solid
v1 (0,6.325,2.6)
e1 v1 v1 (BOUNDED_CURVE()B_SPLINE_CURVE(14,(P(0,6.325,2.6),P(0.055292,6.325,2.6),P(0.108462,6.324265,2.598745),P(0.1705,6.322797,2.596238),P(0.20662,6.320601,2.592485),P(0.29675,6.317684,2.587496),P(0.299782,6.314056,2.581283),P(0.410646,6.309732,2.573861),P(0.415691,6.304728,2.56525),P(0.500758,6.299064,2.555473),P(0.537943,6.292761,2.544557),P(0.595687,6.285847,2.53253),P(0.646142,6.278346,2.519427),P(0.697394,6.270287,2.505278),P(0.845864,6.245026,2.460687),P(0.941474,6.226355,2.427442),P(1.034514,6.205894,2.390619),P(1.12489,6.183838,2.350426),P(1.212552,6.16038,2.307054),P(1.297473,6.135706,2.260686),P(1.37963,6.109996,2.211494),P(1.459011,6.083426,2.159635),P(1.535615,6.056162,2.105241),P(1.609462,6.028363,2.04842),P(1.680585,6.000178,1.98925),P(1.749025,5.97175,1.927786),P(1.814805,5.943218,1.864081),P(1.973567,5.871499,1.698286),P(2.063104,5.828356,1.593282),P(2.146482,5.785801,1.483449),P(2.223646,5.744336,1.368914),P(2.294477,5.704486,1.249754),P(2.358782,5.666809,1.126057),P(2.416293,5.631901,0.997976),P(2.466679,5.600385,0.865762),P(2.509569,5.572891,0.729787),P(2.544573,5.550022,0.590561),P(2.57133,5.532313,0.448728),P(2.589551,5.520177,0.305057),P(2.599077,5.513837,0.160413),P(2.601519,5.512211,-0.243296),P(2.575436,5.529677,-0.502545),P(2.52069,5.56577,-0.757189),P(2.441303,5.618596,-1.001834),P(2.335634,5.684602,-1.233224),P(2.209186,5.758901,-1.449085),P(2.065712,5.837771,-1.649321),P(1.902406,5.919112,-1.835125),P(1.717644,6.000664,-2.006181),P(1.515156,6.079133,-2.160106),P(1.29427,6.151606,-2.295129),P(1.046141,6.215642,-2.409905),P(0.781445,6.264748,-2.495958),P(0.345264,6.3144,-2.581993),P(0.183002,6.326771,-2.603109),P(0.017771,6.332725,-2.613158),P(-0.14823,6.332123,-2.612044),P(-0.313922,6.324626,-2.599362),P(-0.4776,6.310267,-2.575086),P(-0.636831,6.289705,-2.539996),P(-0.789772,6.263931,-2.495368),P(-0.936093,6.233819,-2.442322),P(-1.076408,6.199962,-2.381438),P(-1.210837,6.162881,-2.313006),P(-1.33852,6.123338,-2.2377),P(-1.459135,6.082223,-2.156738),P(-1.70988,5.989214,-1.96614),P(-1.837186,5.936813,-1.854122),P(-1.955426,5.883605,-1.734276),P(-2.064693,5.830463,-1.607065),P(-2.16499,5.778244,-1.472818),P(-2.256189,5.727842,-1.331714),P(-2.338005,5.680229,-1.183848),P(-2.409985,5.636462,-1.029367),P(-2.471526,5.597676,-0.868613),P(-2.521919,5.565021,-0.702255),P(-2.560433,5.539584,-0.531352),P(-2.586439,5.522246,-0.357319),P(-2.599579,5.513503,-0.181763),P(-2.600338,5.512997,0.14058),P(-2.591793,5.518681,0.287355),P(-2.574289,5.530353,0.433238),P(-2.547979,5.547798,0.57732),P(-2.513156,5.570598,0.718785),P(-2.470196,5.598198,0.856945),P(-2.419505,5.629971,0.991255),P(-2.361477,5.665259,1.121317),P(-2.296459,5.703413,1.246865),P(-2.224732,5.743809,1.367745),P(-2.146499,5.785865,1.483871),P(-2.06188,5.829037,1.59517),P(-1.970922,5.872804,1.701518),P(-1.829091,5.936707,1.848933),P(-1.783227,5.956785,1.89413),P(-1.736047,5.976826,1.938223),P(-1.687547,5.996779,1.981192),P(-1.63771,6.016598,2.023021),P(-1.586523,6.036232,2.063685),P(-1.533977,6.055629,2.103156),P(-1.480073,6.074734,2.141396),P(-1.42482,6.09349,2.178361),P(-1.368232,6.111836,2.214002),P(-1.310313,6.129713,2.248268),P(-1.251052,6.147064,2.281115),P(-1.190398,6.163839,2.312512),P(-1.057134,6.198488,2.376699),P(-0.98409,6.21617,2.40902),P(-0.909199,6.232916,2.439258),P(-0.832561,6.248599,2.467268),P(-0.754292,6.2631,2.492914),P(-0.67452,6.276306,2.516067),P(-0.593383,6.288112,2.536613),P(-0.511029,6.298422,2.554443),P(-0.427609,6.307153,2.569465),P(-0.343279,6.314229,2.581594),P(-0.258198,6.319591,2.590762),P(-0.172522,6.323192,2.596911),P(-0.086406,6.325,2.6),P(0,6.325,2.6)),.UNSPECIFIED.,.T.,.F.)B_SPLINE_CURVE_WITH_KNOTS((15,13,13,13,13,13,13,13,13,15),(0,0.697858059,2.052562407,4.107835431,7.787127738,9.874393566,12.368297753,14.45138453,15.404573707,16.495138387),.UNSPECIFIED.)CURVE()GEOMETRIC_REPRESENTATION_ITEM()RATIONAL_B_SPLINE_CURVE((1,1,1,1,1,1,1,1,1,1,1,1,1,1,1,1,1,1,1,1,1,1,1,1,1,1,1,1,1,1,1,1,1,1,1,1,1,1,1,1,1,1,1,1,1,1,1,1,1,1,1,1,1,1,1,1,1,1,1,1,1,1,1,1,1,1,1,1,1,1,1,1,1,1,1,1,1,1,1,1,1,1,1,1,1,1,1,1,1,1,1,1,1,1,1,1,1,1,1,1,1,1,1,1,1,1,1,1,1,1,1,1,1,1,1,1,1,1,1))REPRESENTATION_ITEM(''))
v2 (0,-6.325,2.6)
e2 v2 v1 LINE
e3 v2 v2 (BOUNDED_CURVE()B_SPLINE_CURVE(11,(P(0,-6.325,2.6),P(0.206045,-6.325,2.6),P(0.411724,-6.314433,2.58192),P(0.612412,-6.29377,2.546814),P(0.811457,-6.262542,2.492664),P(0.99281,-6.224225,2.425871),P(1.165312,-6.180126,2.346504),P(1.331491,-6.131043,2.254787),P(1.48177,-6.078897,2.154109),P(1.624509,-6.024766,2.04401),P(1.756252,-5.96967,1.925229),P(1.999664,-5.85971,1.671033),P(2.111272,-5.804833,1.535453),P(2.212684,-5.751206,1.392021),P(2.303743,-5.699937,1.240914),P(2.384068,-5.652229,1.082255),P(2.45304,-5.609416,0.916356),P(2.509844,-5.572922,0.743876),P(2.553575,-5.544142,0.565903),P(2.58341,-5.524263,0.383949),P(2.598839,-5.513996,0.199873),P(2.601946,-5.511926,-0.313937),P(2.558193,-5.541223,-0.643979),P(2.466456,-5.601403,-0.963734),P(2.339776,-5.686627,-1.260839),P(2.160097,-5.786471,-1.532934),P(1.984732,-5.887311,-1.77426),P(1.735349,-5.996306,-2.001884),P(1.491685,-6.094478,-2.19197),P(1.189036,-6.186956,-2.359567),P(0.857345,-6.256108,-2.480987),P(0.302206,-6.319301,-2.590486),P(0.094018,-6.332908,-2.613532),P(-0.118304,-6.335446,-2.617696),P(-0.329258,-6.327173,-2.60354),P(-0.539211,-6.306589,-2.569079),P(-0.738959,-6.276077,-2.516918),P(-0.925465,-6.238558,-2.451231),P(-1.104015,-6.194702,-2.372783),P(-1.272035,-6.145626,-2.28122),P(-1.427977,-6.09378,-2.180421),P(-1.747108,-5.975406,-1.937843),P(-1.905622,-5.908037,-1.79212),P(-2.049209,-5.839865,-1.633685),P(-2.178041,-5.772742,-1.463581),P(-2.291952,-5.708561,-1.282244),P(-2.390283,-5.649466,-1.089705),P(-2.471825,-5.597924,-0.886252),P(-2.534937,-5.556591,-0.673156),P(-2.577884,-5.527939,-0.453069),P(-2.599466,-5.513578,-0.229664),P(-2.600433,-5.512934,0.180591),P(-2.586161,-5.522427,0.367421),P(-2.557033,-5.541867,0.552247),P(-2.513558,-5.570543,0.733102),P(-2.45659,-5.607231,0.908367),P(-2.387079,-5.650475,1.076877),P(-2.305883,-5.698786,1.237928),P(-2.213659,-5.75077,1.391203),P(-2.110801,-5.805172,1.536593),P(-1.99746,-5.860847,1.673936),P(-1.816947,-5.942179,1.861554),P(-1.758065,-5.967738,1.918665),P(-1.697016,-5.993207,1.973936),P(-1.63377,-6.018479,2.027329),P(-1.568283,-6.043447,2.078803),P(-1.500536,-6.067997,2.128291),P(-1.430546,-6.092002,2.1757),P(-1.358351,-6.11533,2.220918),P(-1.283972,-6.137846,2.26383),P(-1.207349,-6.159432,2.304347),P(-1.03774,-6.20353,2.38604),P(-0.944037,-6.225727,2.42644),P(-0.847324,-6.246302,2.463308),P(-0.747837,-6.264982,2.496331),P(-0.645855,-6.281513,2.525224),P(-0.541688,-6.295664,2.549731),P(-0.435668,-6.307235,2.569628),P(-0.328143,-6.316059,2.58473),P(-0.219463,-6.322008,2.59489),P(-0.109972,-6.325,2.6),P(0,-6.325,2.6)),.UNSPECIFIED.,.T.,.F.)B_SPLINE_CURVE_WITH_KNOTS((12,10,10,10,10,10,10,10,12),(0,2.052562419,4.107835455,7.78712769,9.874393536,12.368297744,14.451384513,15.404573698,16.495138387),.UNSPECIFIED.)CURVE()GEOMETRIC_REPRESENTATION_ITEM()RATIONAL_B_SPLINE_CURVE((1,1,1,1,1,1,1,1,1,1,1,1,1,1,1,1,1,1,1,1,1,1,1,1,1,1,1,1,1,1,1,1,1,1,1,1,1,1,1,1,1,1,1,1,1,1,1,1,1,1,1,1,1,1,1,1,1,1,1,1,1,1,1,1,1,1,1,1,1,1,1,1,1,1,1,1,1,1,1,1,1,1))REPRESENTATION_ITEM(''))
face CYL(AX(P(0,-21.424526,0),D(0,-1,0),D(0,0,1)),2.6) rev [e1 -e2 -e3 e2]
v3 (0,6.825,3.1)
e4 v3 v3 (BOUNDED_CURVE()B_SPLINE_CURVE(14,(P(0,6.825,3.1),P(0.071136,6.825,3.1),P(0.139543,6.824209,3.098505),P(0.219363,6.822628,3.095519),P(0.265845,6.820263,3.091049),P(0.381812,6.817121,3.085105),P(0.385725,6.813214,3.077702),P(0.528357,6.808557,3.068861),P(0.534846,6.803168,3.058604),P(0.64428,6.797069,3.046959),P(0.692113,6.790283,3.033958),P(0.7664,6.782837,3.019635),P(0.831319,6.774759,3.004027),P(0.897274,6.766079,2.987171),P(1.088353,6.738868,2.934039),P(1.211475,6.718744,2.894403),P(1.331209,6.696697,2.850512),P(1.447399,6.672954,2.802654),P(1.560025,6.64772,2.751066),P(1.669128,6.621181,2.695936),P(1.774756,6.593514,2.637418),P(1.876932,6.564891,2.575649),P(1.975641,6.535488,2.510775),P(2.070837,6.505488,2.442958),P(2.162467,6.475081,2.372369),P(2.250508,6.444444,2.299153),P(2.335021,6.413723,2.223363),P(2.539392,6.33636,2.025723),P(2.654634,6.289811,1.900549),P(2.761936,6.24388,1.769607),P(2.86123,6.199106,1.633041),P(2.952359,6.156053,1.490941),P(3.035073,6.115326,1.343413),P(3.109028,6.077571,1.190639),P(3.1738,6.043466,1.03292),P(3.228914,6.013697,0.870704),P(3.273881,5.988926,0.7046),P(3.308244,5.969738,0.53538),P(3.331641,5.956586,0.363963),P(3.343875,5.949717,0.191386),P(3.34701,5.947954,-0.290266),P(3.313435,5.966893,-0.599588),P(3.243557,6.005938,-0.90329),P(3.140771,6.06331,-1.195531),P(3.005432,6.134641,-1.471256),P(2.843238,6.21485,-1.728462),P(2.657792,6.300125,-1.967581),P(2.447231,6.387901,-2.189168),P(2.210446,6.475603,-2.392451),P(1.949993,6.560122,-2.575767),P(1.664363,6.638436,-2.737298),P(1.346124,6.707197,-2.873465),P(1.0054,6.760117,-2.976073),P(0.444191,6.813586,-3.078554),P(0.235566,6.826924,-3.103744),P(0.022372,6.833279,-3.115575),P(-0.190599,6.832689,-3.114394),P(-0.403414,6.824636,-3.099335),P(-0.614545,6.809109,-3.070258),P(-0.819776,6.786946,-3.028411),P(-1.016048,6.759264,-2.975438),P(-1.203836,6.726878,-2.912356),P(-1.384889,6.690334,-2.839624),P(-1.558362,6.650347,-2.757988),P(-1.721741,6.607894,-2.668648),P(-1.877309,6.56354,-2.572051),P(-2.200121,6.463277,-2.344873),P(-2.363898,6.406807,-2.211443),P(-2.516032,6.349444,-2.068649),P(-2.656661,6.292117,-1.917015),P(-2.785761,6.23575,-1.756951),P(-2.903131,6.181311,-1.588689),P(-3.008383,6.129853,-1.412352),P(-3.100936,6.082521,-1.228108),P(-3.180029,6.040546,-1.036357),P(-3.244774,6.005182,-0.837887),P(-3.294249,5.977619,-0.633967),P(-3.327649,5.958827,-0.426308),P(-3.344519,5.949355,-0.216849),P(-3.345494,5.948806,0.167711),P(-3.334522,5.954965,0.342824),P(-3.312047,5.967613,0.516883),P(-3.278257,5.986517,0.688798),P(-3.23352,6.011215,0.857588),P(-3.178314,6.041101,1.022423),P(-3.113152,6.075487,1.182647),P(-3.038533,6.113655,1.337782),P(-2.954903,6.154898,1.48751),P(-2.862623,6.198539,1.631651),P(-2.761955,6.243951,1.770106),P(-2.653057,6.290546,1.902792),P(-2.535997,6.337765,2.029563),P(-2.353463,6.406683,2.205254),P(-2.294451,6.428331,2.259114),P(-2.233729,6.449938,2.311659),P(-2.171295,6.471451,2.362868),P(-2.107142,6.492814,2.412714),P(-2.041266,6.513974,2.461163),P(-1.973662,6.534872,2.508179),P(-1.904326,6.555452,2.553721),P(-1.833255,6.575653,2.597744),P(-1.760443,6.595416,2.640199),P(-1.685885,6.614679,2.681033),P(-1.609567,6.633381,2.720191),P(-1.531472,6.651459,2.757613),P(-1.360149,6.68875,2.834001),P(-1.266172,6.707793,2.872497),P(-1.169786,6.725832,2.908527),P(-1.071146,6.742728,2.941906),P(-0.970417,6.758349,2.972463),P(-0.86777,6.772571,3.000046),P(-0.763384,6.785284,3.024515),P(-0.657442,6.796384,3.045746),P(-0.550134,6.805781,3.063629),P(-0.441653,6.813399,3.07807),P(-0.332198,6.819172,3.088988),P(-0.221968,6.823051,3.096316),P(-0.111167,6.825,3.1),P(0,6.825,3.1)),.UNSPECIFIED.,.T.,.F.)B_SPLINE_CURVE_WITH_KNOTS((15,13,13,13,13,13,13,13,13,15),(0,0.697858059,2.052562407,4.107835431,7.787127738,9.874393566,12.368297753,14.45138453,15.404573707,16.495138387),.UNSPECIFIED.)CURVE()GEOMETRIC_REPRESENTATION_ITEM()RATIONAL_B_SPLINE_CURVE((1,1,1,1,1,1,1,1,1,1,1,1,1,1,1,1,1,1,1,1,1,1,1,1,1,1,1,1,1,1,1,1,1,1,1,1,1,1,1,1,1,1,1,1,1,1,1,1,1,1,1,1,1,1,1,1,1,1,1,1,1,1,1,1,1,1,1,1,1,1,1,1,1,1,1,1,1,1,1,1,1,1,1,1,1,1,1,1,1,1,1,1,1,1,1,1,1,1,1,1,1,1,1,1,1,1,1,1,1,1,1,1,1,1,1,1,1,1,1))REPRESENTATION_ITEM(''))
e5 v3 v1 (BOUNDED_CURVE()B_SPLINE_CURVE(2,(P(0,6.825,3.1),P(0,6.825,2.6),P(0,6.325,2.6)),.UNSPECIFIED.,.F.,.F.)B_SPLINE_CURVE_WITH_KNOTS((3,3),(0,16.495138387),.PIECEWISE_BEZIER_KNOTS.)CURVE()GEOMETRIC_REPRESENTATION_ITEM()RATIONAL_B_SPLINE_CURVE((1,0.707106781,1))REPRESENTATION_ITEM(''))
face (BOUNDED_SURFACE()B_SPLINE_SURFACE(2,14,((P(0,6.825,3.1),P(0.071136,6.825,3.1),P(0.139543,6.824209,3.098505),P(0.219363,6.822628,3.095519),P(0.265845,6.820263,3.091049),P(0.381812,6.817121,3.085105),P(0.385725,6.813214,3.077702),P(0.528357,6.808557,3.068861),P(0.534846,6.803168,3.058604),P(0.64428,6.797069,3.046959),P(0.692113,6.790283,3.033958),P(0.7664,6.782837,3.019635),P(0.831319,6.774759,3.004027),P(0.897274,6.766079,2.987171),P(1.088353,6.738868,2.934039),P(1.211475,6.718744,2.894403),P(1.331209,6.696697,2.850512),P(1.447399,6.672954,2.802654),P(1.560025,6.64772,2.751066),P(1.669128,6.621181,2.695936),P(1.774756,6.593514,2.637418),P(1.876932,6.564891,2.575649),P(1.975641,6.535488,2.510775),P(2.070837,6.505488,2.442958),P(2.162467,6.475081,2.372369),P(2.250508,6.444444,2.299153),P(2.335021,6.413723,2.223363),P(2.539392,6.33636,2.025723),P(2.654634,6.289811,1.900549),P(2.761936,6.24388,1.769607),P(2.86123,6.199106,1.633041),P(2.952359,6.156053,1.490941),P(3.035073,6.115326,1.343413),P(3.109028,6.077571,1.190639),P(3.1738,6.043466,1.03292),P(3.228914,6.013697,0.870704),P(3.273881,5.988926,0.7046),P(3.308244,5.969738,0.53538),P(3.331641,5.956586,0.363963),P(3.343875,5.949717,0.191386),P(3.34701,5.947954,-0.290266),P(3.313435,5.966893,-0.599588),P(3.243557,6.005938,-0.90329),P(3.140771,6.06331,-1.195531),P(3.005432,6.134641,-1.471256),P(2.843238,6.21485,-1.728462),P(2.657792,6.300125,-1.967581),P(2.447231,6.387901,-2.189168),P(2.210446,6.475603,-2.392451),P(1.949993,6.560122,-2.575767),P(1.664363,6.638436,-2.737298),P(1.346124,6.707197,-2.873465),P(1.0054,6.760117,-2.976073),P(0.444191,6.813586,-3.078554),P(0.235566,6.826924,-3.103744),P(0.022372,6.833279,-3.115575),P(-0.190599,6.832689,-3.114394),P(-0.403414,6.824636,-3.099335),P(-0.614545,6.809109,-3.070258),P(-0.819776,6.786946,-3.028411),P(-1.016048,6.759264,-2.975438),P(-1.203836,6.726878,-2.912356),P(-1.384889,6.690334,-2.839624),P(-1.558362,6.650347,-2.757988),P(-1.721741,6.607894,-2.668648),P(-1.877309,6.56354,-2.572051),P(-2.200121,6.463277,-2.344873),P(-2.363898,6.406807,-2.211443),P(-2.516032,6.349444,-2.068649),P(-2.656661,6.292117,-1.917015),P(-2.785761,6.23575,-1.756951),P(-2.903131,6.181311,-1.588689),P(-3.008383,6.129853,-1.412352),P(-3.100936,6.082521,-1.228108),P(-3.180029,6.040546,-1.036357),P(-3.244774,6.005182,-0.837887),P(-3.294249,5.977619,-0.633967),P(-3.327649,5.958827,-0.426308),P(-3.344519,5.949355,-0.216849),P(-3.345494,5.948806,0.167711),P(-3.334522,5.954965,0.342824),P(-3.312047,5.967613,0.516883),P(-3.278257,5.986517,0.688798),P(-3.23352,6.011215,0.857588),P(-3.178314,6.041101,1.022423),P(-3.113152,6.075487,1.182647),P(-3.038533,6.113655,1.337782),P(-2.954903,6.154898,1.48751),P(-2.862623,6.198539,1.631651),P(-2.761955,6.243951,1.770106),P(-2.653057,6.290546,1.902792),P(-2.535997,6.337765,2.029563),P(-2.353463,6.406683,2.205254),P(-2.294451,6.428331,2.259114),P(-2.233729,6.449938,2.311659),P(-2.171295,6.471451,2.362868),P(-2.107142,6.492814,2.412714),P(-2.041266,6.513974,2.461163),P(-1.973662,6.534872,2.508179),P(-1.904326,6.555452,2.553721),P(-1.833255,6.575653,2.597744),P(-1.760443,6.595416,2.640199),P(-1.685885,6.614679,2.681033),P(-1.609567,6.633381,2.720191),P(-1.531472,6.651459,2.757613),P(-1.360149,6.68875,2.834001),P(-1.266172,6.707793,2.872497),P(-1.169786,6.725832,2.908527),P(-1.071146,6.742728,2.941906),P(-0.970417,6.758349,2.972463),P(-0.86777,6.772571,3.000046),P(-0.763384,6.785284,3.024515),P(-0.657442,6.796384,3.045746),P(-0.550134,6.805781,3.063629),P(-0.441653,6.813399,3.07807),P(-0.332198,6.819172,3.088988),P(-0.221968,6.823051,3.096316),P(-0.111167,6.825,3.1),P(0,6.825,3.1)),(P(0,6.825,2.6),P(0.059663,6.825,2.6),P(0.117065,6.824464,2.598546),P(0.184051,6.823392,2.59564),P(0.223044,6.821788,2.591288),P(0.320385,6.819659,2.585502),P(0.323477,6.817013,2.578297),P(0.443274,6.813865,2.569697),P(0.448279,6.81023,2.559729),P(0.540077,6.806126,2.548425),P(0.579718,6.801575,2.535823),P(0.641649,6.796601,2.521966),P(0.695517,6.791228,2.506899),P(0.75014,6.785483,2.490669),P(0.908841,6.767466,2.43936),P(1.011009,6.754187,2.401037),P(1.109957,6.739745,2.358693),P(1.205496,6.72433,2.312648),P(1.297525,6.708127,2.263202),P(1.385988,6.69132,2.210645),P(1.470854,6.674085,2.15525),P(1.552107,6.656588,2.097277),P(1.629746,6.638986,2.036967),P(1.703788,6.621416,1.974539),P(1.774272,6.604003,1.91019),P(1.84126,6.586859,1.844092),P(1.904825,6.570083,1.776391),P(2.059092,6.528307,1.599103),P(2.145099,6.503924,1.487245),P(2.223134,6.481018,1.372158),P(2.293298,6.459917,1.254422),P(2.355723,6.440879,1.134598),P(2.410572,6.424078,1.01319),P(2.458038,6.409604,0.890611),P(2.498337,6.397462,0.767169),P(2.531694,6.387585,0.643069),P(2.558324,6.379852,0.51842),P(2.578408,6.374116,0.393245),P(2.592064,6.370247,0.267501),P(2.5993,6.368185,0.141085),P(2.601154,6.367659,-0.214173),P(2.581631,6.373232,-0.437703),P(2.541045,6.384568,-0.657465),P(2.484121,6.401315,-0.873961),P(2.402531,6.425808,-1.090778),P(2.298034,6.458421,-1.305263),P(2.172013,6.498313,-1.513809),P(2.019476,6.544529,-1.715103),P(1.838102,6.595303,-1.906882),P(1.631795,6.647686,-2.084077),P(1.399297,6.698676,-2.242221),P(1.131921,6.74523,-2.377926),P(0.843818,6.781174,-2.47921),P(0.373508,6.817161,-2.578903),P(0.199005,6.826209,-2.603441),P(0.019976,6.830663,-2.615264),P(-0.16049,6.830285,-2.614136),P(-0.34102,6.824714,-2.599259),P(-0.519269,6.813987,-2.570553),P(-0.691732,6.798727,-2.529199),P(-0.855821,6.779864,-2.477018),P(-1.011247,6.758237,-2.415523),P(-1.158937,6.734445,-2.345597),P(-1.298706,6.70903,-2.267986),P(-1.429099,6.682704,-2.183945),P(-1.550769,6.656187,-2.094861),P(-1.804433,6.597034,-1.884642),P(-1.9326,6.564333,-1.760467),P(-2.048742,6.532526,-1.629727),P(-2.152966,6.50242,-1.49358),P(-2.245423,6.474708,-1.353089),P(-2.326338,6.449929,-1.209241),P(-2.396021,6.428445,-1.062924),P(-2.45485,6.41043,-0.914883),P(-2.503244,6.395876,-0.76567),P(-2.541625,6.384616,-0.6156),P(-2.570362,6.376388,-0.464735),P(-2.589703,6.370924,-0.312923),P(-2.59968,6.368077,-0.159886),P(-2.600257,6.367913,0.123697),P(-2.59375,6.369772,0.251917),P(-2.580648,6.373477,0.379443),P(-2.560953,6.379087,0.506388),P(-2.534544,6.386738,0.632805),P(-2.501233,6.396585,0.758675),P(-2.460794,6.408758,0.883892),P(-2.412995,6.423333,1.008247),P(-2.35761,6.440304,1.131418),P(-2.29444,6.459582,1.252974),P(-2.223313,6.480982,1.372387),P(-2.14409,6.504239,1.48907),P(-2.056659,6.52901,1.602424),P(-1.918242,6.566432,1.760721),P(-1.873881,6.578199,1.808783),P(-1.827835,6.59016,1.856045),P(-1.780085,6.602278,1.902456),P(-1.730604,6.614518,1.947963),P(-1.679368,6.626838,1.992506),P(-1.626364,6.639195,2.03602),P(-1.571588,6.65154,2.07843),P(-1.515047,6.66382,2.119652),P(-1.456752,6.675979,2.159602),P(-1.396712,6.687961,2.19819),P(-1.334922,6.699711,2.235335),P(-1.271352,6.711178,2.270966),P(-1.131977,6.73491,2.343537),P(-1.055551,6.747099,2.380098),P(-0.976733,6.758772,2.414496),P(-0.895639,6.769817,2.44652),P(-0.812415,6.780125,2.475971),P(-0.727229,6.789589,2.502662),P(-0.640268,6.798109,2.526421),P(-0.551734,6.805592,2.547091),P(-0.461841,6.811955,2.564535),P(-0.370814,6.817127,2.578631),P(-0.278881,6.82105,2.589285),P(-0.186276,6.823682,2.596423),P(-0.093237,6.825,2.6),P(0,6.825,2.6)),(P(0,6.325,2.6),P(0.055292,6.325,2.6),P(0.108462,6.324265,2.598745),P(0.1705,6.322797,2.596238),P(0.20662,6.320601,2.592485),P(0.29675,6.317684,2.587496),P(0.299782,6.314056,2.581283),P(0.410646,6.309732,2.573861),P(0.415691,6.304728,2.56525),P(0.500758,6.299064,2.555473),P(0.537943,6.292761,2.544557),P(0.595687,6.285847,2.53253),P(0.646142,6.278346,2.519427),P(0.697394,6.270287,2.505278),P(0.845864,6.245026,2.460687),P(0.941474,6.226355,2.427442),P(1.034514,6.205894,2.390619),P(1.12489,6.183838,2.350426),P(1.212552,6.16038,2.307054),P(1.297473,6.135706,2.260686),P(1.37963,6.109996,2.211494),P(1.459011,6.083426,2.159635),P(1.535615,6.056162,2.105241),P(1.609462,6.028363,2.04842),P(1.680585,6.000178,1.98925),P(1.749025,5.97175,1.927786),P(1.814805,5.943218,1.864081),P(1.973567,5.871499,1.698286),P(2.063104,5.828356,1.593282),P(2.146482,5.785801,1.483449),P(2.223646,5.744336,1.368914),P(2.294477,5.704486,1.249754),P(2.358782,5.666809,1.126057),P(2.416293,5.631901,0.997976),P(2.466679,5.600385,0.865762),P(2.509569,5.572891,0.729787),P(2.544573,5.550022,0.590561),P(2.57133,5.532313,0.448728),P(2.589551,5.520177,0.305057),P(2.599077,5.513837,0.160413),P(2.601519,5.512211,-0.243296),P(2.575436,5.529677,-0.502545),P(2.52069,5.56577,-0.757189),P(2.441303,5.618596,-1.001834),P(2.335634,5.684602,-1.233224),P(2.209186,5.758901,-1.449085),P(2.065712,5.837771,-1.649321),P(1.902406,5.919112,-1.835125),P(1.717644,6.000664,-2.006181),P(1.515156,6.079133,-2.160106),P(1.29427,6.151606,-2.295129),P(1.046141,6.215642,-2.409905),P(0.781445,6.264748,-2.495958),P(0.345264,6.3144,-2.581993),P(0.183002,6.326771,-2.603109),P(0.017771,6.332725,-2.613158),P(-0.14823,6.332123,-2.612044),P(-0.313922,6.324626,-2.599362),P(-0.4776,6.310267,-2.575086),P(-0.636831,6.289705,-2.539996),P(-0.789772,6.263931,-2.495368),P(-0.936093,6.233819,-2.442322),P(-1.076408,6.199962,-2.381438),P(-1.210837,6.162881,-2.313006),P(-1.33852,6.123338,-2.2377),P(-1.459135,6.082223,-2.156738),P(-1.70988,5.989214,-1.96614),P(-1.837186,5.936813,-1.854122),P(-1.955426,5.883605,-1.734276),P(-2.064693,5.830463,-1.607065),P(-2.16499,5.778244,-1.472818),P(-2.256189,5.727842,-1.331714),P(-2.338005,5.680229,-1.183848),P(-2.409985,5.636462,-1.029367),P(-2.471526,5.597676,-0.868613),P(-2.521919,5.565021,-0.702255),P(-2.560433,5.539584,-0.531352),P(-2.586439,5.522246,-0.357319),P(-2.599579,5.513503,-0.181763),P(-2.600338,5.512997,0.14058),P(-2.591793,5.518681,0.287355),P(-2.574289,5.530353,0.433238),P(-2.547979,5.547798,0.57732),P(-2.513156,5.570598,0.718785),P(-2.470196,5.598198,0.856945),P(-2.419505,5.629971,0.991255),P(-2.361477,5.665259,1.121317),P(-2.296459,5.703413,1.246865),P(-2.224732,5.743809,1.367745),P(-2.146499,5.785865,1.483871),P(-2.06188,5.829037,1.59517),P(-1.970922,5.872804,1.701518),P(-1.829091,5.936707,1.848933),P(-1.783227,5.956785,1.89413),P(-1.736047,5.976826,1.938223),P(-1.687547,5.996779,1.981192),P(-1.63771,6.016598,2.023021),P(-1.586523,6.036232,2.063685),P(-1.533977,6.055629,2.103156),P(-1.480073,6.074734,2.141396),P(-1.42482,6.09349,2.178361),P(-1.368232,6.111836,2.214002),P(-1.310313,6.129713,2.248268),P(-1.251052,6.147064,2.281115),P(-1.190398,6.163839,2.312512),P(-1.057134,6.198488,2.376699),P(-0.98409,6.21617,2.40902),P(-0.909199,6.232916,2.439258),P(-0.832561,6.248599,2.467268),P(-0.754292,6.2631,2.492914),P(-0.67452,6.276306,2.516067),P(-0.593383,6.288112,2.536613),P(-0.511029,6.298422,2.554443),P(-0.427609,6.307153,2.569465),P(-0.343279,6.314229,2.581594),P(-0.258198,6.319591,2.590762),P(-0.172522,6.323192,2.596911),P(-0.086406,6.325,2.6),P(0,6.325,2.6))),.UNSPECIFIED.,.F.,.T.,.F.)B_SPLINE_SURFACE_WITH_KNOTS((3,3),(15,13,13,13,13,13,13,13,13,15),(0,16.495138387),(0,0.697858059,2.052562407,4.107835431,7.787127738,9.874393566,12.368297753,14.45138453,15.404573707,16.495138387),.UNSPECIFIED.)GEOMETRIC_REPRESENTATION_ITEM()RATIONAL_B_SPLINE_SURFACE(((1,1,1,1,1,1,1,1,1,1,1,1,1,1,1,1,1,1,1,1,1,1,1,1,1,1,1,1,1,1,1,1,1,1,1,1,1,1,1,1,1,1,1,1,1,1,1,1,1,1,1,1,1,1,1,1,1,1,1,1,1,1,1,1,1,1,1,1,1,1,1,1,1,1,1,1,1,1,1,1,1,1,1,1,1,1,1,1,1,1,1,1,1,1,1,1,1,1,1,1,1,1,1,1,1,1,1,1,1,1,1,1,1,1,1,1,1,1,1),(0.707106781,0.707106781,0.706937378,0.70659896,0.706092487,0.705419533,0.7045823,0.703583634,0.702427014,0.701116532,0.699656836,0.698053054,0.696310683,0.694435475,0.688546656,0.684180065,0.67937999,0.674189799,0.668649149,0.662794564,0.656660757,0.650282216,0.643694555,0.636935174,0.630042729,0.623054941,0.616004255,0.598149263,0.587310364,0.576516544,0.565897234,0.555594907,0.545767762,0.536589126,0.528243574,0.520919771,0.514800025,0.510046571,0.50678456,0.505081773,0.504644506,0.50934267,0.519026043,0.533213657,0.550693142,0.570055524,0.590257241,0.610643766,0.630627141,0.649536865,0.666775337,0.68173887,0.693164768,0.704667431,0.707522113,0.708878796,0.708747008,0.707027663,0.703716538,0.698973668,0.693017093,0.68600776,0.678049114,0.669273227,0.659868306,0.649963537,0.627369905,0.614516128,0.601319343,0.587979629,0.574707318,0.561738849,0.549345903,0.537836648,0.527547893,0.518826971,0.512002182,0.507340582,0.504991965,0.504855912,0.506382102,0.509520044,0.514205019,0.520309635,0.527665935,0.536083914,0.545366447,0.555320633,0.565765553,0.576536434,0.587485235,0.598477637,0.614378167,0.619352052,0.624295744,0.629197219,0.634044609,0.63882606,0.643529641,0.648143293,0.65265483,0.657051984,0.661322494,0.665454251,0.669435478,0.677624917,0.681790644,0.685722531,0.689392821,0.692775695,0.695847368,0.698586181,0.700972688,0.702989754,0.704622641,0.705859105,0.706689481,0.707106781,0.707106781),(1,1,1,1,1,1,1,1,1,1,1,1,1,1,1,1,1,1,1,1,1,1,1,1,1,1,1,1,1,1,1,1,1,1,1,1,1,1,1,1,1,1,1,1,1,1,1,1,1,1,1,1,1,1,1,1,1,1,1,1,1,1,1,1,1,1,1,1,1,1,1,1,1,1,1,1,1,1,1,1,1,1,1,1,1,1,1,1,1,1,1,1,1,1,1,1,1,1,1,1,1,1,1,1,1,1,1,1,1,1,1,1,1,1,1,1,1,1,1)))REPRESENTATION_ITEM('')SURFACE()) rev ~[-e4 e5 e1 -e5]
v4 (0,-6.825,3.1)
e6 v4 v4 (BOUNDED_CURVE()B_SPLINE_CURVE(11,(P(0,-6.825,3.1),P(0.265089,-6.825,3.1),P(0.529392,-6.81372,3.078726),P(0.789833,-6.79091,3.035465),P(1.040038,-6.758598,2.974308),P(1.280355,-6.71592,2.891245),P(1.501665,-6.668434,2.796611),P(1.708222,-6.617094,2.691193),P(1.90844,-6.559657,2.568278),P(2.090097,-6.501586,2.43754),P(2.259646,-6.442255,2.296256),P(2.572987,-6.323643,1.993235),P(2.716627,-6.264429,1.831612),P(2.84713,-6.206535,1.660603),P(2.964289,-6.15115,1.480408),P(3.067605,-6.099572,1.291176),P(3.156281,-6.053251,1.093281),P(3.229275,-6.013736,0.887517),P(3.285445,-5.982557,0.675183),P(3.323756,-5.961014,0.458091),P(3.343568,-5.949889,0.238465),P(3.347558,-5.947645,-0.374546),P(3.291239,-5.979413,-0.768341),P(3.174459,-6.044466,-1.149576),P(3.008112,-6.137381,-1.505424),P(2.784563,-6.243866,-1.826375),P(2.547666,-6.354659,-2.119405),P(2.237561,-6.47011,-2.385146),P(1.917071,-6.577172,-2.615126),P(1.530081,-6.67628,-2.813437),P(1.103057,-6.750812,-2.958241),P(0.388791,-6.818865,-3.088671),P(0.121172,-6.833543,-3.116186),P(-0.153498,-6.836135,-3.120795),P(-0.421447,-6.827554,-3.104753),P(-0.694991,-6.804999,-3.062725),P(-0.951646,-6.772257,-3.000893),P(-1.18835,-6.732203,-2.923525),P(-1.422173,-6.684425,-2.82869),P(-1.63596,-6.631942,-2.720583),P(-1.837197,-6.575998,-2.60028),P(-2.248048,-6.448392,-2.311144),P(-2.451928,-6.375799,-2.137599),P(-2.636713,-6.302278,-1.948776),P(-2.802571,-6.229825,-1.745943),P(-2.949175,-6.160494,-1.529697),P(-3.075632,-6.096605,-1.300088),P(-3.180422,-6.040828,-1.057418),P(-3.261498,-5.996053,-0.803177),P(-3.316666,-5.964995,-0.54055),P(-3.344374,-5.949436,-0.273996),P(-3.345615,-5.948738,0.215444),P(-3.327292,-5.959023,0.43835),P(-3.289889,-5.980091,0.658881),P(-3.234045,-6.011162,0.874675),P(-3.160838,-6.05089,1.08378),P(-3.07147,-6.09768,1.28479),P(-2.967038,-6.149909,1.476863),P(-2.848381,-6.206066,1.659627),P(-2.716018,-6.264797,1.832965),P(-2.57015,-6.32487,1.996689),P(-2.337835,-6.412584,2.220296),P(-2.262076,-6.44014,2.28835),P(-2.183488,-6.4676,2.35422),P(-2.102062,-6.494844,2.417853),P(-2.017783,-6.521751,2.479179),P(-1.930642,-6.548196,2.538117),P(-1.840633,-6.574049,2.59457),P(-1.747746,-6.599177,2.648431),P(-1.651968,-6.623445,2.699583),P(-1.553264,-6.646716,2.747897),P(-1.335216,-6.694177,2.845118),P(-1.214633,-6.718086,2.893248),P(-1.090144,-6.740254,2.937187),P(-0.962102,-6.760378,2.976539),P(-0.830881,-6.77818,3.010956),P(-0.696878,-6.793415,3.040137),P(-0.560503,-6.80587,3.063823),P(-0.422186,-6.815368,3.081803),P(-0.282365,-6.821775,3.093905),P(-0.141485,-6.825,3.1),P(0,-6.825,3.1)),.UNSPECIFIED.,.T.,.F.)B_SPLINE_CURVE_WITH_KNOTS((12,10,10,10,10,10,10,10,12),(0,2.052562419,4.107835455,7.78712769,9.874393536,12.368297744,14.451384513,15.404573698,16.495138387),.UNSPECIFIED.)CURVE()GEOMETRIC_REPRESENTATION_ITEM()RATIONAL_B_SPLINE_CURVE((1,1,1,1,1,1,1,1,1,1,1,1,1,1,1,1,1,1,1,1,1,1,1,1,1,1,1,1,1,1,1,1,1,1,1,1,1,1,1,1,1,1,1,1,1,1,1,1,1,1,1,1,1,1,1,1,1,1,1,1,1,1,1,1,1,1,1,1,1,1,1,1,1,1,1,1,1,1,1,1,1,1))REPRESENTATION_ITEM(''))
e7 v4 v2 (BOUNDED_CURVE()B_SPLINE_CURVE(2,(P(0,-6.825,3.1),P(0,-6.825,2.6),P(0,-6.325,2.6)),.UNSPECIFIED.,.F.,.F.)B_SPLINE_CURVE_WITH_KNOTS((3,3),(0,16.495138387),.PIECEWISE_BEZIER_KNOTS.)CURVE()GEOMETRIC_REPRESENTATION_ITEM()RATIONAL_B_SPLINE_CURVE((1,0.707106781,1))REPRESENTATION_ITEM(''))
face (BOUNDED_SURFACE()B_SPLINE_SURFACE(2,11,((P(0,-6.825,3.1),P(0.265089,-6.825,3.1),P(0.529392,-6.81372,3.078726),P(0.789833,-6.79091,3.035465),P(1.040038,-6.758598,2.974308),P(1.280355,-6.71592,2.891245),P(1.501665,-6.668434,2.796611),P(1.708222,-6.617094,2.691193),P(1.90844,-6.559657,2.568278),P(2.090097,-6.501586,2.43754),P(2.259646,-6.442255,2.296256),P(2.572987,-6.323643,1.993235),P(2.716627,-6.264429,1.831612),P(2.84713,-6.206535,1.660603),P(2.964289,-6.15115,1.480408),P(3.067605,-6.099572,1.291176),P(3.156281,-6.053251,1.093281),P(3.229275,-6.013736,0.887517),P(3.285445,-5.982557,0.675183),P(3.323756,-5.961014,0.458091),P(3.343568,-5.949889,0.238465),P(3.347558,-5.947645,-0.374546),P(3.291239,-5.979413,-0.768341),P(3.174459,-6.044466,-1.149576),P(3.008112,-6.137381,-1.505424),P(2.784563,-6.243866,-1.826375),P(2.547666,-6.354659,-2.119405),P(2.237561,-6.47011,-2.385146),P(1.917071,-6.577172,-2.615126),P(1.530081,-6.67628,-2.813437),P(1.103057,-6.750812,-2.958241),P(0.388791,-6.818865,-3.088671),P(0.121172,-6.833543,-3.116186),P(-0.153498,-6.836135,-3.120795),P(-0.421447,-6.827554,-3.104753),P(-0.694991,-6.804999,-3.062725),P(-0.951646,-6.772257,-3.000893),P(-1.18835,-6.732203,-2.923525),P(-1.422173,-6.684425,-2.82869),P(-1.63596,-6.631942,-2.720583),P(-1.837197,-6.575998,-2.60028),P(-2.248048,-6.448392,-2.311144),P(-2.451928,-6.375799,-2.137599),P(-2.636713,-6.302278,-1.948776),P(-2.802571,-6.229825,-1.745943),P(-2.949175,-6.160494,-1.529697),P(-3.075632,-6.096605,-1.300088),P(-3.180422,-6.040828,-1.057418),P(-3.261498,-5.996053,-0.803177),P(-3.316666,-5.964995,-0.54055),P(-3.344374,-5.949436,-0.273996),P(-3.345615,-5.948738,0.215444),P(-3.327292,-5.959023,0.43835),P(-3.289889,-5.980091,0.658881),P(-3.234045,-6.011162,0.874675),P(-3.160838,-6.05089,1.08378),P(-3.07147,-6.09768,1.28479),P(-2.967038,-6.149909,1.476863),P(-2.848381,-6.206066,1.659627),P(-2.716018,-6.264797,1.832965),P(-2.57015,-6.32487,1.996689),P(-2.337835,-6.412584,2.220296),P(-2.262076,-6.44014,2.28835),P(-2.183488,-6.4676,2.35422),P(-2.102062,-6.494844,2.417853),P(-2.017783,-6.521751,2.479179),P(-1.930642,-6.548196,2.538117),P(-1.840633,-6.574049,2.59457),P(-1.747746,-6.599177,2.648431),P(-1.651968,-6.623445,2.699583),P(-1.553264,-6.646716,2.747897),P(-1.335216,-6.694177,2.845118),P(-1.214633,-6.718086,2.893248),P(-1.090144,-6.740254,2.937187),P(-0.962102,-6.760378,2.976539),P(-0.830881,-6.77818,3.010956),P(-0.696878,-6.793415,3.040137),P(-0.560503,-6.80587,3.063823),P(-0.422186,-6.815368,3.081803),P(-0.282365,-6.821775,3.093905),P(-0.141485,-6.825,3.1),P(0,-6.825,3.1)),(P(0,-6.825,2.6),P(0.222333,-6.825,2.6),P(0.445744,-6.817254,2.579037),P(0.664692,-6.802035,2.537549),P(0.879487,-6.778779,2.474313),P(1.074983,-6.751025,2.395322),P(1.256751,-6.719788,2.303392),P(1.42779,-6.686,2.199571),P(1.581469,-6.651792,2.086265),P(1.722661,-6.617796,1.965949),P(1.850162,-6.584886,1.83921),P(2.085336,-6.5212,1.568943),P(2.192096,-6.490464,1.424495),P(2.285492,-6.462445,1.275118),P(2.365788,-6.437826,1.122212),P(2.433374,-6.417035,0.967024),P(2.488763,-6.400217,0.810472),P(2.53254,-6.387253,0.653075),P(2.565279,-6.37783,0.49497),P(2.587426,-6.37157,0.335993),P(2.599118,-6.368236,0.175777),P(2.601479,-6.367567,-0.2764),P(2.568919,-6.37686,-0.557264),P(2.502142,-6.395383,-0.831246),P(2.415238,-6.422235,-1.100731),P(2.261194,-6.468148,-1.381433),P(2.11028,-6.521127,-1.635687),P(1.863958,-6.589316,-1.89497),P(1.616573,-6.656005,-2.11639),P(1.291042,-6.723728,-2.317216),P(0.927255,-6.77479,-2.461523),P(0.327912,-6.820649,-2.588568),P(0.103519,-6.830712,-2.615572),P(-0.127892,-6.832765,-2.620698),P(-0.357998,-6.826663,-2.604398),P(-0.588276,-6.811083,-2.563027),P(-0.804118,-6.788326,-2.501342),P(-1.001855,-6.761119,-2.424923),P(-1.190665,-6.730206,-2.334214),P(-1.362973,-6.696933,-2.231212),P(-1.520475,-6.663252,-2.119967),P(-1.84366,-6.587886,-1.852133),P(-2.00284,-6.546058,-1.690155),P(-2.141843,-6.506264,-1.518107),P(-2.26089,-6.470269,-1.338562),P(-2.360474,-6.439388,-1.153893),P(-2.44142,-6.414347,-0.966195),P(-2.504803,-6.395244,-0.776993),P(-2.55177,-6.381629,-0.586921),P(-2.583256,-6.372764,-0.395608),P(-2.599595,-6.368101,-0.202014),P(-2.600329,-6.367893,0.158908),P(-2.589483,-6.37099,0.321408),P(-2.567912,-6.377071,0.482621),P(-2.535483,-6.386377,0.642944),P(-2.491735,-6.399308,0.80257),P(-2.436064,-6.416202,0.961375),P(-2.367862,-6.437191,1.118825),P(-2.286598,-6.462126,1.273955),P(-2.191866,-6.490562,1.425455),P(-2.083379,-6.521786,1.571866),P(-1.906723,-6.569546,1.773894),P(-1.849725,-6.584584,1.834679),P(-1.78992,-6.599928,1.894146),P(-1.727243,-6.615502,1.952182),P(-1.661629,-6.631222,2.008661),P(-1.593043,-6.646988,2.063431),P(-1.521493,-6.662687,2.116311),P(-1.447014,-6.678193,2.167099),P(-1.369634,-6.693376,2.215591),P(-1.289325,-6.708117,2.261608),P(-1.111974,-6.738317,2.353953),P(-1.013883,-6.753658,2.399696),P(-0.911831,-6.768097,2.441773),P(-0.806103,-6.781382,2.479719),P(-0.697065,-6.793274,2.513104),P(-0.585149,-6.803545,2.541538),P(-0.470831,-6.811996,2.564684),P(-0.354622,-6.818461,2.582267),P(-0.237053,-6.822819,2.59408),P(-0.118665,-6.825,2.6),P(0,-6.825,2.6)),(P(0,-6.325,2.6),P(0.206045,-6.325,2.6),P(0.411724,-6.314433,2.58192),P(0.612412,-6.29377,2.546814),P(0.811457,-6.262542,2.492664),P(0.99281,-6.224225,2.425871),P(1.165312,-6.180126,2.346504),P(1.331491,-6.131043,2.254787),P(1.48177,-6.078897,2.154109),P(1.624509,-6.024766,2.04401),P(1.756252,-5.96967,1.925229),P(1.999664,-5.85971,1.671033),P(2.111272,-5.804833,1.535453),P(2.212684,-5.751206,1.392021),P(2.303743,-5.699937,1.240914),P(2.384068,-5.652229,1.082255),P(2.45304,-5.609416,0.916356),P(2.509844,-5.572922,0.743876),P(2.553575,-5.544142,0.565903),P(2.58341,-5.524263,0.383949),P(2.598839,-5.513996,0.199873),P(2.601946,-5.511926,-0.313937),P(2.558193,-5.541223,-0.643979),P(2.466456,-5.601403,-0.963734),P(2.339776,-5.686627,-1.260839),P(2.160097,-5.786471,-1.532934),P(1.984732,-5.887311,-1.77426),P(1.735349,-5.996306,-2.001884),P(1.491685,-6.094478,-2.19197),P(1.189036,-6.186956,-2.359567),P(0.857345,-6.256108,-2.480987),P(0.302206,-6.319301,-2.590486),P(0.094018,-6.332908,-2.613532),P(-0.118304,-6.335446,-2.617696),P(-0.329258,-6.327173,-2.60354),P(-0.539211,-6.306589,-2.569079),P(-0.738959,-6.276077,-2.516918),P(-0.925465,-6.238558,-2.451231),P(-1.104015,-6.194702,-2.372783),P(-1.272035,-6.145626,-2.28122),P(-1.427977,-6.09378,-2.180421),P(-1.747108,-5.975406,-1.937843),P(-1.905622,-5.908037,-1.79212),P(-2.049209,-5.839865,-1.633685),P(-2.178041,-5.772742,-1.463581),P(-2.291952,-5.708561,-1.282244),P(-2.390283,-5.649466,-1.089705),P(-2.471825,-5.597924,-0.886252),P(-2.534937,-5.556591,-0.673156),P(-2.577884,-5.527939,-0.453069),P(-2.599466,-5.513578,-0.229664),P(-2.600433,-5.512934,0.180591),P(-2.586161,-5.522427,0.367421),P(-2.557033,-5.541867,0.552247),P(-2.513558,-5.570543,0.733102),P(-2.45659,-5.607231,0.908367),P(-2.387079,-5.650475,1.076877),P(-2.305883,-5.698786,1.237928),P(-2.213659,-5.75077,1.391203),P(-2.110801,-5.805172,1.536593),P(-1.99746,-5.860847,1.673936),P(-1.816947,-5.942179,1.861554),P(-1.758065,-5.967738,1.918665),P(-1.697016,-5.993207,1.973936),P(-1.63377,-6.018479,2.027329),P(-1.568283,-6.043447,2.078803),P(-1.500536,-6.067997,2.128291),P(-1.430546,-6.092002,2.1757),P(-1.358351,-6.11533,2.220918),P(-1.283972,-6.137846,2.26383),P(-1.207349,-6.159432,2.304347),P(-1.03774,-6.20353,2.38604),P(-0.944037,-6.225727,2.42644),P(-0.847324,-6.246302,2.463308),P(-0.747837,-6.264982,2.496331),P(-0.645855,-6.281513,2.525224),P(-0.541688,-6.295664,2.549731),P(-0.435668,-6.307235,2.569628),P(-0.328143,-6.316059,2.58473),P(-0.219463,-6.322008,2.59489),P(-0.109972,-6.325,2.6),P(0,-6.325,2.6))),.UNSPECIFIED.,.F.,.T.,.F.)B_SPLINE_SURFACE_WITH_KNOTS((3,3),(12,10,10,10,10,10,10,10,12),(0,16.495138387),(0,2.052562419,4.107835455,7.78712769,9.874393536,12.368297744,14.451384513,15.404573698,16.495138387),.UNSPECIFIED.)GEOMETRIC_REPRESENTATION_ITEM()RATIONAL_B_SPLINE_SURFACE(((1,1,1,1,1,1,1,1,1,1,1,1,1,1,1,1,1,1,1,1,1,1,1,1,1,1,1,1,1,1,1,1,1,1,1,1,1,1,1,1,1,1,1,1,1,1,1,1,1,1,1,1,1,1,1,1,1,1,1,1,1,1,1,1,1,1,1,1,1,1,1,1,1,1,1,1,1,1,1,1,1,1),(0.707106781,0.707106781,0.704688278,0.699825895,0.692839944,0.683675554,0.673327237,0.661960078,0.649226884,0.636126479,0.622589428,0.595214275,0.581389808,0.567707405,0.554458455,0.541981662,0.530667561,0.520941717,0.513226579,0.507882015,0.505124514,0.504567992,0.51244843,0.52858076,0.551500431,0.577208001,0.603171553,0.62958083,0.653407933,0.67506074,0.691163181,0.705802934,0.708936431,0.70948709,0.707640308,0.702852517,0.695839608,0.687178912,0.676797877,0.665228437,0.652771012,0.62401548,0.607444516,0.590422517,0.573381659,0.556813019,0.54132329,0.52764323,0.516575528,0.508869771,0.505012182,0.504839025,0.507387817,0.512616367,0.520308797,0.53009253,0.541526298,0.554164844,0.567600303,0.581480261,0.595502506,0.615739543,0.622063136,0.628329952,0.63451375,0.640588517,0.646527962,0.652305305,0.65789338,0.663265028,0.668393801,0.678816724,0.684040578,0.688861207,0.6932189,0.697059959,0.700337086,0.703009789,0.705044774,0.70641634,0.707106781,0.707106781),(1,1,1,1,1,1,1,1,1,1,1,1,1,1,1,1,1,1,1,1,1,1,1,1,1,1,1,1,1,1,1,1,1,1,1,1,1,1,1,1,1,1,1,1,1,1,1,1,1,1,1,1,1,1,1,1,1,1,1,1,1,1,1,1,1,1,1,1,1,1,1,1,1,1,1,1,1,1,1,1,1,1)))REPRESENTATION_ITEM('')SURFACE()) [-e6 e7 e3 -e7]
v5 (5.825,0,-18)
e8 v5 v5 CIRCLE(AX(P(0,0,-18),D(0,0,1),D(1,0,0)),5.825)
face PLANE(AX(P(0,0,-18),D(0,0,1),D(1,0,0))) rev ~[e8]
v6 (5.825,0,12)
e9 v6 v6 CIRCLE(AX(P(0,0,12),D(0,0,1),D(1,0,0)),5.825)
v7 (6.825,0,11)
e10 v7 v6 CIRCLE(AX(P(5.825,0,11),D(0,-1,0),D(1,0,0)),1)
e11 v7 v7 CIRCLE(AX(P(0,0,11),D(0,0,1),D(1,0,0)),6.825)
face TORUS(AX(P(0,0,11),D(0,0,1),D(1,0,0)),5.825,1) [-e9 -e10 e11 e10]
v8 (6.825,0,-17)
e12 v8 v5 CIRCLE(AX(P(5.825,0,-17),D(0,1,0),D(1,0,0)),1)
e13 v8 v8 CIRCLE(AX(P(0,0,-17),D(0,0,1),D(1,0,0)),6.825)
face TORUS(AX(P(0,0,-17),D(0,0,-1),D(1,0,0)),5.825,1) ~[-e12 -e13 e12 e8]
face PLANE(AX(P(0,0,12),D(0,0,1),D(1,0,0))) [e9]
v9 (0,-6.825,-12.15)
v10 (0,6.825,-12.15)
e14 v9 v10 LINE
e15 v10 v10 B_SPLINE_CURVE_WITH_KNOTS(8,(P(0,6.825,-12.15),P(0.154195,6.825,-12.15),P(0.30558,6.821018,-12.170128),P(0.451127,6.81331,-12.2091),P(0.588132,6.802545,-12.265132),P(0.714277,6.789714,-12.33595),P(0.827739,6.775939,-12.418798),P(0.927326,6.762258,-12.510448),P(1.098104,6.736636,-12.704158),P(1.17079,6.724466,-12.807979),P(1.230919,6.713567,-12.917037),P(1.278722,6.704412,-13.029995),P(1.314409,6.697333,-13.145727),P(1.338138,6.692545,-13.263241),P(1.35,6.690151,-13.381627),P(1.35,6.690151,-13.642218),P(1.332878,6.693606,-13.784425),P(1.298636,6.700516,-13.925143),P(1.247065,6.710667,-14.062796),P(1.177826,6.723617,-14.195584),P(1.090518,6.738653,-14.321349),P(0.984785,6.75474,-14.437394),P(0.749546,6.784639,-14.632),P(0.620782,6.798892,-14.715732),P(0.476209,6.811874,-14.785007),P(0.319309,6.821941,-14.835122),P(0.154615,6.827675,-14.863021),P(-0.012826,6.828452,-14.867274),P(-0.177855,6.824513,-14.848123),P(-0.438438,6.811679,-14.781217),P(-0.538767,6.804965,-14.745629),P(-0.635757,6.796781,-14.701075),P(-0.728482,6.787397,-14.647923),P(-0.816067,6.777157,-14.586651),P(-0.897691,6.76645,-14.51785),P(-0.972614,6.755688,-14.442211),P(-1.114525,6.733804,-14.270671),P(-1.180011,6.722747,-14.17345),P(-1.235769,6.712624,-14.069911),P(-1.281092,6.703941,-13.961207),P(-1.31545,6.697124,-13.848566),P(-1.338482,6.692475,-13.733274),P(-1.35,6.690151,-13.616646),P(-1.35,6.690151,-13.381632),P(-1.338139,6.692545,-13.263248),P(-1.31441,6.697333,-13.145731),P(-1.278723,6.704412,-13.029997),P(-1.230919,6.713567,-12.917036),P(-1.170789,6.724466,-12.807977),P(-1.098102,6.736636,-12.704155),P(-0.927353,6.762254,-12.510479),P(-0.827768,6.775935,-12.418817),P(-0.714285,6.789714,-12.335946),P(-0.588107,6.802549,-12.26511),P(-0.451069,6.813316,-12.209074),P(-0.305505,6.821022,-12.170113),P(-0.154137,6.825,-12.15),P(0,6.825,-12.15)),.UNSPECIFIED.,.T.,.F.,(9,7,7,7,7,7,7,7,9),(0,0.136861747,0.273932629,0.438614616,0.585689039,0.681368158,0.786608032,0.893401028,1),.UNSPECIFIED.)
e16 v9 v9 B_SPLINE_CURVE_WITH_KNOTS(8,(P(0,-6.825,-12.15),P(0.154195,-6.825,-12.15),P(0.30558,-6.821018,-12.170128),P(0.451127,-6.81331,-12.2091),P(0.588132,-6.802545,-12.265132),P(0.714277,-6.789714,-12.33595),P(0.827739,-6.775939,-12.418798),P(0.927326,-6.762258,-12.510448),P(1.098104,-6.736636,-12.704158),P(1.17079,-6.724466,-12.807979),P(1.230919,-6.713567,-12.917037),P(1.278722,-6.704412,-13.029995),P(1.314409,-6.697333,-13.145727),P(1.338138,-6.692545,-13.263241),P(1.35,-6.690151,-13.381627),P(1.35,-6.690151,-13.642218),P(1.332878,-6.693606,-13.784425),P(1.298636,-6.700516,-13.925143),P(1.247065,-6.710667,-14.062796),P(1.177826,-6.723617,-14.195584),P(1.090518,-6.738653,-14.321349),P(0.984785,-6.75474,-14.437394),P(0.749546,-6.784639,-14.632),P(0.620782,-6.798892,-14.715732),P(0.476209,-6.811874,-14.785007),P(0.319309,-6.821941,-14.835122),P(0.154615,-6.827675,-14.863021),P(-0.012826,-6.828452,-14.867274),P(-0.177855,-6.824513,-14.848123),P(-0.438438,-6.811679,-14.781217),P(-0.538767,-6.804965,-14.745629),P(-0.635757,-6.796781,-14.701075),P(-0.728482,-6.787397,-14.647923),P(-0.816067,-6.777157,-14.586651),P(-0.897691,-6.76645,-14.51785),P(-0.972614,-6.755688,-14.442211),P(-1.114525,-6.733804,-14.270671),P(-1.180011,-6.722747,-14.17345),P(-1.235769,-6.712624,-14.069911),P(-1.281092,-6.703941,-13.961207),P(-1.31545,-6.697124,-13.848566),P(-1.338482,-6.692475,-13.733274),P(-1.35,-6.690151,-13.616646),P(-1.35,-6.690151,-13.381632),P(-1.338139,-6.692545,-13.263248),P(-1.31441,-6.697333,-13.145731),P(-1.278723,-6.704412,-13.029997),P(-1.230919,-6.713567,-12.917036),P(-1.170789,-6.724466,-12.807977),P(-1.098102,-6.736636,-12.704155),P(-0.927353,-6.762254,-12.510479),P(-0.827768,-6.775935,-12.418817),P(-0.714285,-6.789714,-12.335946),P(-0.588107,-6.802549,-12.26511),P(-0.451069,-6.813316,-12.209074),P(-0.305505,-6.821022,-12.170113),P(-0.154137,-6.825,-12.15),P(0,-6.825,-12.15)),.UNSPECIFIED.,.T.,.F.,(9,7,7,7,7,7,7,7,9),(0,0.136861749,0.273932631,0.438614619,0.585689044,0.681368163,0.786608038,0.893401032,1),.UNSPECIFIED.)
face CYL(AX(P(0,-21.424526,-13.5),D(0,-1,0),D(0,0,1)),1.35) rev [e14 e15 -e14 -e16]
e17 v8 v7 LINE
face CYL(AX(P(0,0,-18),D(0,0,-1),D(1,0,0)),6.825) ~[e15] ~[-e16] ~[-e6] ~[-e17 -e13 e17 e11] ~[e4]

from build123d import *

# Parameters (mm, degrees)
BOSS_EXTRUDE1_DEPTH      = 12
BOSS_EXTRUDE1_DEPTH_BACK = 18
SKETCH1_R                = 6.825
CUT_EXTRUDE1_DEPTH       = 21.424525698
CUT_EXTRUDE1_DEPTH_BACK  = 21.424525698
SKETCH2_R                = 2.6
SKETCH2_R_2              = 1.35
FILLET1_R                = 1
FILLET2_R                = 0.5


with BuildPart() as part:
    # Sketch1 → Boss-Extrude1 (new, two sides: drawn at the far end of the back side and taken through both)
    with BuildSketch(Plane.XY.offset(-BOSS_EXTRUDE1_DEPTH_BACK)):
        Circle(SKETCH1_R)
    extrude(amount=BOSS_EXTRUDE1_DEPTH + BOSS_EXTRUDE1_DEPTH_BACK)

    # Sketch2 → Cut-Extrude1 (cut, two sides: drawn at the far end of the back side and taken through both)
    with BuildSketch(Plane(origin=(0, 0, 0), x_dir=(1, 0, 0), z_dir=(0, 1, 0)).offset(-CUT_EXTRUDE1_DEPTH_BACK)):
        with Locations(Location((0, 0, 0), (0, 0, 270))):
            Circle(SKETCH2_R)
        with Locations(Location((0, 13.5, 0), (0, 0, 270))):
            Circle(SKETCH2_R_2)
    extrude(amount=CUT_EXTRUDE1_DEPTH + CUT_EXTRUDE1_DEPTH_BACK, mode=Mode.SUBTRACT)

    # Fillet1
    fillet1_edges = [part.edges().sort_by_distance(p)[0] for p in [
        (-6.825, 0, 12),
        (-6.825, 0, -18),
    ]]
    fillet(fillet1_edges, radius=FILLET1_R)

    # Fillet2
    fillet2_edges = [part.edges().sort_by_distance(p)[0] for p in [
        (1e-09, 6.825, -2.600000001),
        (0, -6.825, -2.600000002),
    ]]
    fillet(fillet2_edges, radius=FILLET2_R)


solid = part.part
